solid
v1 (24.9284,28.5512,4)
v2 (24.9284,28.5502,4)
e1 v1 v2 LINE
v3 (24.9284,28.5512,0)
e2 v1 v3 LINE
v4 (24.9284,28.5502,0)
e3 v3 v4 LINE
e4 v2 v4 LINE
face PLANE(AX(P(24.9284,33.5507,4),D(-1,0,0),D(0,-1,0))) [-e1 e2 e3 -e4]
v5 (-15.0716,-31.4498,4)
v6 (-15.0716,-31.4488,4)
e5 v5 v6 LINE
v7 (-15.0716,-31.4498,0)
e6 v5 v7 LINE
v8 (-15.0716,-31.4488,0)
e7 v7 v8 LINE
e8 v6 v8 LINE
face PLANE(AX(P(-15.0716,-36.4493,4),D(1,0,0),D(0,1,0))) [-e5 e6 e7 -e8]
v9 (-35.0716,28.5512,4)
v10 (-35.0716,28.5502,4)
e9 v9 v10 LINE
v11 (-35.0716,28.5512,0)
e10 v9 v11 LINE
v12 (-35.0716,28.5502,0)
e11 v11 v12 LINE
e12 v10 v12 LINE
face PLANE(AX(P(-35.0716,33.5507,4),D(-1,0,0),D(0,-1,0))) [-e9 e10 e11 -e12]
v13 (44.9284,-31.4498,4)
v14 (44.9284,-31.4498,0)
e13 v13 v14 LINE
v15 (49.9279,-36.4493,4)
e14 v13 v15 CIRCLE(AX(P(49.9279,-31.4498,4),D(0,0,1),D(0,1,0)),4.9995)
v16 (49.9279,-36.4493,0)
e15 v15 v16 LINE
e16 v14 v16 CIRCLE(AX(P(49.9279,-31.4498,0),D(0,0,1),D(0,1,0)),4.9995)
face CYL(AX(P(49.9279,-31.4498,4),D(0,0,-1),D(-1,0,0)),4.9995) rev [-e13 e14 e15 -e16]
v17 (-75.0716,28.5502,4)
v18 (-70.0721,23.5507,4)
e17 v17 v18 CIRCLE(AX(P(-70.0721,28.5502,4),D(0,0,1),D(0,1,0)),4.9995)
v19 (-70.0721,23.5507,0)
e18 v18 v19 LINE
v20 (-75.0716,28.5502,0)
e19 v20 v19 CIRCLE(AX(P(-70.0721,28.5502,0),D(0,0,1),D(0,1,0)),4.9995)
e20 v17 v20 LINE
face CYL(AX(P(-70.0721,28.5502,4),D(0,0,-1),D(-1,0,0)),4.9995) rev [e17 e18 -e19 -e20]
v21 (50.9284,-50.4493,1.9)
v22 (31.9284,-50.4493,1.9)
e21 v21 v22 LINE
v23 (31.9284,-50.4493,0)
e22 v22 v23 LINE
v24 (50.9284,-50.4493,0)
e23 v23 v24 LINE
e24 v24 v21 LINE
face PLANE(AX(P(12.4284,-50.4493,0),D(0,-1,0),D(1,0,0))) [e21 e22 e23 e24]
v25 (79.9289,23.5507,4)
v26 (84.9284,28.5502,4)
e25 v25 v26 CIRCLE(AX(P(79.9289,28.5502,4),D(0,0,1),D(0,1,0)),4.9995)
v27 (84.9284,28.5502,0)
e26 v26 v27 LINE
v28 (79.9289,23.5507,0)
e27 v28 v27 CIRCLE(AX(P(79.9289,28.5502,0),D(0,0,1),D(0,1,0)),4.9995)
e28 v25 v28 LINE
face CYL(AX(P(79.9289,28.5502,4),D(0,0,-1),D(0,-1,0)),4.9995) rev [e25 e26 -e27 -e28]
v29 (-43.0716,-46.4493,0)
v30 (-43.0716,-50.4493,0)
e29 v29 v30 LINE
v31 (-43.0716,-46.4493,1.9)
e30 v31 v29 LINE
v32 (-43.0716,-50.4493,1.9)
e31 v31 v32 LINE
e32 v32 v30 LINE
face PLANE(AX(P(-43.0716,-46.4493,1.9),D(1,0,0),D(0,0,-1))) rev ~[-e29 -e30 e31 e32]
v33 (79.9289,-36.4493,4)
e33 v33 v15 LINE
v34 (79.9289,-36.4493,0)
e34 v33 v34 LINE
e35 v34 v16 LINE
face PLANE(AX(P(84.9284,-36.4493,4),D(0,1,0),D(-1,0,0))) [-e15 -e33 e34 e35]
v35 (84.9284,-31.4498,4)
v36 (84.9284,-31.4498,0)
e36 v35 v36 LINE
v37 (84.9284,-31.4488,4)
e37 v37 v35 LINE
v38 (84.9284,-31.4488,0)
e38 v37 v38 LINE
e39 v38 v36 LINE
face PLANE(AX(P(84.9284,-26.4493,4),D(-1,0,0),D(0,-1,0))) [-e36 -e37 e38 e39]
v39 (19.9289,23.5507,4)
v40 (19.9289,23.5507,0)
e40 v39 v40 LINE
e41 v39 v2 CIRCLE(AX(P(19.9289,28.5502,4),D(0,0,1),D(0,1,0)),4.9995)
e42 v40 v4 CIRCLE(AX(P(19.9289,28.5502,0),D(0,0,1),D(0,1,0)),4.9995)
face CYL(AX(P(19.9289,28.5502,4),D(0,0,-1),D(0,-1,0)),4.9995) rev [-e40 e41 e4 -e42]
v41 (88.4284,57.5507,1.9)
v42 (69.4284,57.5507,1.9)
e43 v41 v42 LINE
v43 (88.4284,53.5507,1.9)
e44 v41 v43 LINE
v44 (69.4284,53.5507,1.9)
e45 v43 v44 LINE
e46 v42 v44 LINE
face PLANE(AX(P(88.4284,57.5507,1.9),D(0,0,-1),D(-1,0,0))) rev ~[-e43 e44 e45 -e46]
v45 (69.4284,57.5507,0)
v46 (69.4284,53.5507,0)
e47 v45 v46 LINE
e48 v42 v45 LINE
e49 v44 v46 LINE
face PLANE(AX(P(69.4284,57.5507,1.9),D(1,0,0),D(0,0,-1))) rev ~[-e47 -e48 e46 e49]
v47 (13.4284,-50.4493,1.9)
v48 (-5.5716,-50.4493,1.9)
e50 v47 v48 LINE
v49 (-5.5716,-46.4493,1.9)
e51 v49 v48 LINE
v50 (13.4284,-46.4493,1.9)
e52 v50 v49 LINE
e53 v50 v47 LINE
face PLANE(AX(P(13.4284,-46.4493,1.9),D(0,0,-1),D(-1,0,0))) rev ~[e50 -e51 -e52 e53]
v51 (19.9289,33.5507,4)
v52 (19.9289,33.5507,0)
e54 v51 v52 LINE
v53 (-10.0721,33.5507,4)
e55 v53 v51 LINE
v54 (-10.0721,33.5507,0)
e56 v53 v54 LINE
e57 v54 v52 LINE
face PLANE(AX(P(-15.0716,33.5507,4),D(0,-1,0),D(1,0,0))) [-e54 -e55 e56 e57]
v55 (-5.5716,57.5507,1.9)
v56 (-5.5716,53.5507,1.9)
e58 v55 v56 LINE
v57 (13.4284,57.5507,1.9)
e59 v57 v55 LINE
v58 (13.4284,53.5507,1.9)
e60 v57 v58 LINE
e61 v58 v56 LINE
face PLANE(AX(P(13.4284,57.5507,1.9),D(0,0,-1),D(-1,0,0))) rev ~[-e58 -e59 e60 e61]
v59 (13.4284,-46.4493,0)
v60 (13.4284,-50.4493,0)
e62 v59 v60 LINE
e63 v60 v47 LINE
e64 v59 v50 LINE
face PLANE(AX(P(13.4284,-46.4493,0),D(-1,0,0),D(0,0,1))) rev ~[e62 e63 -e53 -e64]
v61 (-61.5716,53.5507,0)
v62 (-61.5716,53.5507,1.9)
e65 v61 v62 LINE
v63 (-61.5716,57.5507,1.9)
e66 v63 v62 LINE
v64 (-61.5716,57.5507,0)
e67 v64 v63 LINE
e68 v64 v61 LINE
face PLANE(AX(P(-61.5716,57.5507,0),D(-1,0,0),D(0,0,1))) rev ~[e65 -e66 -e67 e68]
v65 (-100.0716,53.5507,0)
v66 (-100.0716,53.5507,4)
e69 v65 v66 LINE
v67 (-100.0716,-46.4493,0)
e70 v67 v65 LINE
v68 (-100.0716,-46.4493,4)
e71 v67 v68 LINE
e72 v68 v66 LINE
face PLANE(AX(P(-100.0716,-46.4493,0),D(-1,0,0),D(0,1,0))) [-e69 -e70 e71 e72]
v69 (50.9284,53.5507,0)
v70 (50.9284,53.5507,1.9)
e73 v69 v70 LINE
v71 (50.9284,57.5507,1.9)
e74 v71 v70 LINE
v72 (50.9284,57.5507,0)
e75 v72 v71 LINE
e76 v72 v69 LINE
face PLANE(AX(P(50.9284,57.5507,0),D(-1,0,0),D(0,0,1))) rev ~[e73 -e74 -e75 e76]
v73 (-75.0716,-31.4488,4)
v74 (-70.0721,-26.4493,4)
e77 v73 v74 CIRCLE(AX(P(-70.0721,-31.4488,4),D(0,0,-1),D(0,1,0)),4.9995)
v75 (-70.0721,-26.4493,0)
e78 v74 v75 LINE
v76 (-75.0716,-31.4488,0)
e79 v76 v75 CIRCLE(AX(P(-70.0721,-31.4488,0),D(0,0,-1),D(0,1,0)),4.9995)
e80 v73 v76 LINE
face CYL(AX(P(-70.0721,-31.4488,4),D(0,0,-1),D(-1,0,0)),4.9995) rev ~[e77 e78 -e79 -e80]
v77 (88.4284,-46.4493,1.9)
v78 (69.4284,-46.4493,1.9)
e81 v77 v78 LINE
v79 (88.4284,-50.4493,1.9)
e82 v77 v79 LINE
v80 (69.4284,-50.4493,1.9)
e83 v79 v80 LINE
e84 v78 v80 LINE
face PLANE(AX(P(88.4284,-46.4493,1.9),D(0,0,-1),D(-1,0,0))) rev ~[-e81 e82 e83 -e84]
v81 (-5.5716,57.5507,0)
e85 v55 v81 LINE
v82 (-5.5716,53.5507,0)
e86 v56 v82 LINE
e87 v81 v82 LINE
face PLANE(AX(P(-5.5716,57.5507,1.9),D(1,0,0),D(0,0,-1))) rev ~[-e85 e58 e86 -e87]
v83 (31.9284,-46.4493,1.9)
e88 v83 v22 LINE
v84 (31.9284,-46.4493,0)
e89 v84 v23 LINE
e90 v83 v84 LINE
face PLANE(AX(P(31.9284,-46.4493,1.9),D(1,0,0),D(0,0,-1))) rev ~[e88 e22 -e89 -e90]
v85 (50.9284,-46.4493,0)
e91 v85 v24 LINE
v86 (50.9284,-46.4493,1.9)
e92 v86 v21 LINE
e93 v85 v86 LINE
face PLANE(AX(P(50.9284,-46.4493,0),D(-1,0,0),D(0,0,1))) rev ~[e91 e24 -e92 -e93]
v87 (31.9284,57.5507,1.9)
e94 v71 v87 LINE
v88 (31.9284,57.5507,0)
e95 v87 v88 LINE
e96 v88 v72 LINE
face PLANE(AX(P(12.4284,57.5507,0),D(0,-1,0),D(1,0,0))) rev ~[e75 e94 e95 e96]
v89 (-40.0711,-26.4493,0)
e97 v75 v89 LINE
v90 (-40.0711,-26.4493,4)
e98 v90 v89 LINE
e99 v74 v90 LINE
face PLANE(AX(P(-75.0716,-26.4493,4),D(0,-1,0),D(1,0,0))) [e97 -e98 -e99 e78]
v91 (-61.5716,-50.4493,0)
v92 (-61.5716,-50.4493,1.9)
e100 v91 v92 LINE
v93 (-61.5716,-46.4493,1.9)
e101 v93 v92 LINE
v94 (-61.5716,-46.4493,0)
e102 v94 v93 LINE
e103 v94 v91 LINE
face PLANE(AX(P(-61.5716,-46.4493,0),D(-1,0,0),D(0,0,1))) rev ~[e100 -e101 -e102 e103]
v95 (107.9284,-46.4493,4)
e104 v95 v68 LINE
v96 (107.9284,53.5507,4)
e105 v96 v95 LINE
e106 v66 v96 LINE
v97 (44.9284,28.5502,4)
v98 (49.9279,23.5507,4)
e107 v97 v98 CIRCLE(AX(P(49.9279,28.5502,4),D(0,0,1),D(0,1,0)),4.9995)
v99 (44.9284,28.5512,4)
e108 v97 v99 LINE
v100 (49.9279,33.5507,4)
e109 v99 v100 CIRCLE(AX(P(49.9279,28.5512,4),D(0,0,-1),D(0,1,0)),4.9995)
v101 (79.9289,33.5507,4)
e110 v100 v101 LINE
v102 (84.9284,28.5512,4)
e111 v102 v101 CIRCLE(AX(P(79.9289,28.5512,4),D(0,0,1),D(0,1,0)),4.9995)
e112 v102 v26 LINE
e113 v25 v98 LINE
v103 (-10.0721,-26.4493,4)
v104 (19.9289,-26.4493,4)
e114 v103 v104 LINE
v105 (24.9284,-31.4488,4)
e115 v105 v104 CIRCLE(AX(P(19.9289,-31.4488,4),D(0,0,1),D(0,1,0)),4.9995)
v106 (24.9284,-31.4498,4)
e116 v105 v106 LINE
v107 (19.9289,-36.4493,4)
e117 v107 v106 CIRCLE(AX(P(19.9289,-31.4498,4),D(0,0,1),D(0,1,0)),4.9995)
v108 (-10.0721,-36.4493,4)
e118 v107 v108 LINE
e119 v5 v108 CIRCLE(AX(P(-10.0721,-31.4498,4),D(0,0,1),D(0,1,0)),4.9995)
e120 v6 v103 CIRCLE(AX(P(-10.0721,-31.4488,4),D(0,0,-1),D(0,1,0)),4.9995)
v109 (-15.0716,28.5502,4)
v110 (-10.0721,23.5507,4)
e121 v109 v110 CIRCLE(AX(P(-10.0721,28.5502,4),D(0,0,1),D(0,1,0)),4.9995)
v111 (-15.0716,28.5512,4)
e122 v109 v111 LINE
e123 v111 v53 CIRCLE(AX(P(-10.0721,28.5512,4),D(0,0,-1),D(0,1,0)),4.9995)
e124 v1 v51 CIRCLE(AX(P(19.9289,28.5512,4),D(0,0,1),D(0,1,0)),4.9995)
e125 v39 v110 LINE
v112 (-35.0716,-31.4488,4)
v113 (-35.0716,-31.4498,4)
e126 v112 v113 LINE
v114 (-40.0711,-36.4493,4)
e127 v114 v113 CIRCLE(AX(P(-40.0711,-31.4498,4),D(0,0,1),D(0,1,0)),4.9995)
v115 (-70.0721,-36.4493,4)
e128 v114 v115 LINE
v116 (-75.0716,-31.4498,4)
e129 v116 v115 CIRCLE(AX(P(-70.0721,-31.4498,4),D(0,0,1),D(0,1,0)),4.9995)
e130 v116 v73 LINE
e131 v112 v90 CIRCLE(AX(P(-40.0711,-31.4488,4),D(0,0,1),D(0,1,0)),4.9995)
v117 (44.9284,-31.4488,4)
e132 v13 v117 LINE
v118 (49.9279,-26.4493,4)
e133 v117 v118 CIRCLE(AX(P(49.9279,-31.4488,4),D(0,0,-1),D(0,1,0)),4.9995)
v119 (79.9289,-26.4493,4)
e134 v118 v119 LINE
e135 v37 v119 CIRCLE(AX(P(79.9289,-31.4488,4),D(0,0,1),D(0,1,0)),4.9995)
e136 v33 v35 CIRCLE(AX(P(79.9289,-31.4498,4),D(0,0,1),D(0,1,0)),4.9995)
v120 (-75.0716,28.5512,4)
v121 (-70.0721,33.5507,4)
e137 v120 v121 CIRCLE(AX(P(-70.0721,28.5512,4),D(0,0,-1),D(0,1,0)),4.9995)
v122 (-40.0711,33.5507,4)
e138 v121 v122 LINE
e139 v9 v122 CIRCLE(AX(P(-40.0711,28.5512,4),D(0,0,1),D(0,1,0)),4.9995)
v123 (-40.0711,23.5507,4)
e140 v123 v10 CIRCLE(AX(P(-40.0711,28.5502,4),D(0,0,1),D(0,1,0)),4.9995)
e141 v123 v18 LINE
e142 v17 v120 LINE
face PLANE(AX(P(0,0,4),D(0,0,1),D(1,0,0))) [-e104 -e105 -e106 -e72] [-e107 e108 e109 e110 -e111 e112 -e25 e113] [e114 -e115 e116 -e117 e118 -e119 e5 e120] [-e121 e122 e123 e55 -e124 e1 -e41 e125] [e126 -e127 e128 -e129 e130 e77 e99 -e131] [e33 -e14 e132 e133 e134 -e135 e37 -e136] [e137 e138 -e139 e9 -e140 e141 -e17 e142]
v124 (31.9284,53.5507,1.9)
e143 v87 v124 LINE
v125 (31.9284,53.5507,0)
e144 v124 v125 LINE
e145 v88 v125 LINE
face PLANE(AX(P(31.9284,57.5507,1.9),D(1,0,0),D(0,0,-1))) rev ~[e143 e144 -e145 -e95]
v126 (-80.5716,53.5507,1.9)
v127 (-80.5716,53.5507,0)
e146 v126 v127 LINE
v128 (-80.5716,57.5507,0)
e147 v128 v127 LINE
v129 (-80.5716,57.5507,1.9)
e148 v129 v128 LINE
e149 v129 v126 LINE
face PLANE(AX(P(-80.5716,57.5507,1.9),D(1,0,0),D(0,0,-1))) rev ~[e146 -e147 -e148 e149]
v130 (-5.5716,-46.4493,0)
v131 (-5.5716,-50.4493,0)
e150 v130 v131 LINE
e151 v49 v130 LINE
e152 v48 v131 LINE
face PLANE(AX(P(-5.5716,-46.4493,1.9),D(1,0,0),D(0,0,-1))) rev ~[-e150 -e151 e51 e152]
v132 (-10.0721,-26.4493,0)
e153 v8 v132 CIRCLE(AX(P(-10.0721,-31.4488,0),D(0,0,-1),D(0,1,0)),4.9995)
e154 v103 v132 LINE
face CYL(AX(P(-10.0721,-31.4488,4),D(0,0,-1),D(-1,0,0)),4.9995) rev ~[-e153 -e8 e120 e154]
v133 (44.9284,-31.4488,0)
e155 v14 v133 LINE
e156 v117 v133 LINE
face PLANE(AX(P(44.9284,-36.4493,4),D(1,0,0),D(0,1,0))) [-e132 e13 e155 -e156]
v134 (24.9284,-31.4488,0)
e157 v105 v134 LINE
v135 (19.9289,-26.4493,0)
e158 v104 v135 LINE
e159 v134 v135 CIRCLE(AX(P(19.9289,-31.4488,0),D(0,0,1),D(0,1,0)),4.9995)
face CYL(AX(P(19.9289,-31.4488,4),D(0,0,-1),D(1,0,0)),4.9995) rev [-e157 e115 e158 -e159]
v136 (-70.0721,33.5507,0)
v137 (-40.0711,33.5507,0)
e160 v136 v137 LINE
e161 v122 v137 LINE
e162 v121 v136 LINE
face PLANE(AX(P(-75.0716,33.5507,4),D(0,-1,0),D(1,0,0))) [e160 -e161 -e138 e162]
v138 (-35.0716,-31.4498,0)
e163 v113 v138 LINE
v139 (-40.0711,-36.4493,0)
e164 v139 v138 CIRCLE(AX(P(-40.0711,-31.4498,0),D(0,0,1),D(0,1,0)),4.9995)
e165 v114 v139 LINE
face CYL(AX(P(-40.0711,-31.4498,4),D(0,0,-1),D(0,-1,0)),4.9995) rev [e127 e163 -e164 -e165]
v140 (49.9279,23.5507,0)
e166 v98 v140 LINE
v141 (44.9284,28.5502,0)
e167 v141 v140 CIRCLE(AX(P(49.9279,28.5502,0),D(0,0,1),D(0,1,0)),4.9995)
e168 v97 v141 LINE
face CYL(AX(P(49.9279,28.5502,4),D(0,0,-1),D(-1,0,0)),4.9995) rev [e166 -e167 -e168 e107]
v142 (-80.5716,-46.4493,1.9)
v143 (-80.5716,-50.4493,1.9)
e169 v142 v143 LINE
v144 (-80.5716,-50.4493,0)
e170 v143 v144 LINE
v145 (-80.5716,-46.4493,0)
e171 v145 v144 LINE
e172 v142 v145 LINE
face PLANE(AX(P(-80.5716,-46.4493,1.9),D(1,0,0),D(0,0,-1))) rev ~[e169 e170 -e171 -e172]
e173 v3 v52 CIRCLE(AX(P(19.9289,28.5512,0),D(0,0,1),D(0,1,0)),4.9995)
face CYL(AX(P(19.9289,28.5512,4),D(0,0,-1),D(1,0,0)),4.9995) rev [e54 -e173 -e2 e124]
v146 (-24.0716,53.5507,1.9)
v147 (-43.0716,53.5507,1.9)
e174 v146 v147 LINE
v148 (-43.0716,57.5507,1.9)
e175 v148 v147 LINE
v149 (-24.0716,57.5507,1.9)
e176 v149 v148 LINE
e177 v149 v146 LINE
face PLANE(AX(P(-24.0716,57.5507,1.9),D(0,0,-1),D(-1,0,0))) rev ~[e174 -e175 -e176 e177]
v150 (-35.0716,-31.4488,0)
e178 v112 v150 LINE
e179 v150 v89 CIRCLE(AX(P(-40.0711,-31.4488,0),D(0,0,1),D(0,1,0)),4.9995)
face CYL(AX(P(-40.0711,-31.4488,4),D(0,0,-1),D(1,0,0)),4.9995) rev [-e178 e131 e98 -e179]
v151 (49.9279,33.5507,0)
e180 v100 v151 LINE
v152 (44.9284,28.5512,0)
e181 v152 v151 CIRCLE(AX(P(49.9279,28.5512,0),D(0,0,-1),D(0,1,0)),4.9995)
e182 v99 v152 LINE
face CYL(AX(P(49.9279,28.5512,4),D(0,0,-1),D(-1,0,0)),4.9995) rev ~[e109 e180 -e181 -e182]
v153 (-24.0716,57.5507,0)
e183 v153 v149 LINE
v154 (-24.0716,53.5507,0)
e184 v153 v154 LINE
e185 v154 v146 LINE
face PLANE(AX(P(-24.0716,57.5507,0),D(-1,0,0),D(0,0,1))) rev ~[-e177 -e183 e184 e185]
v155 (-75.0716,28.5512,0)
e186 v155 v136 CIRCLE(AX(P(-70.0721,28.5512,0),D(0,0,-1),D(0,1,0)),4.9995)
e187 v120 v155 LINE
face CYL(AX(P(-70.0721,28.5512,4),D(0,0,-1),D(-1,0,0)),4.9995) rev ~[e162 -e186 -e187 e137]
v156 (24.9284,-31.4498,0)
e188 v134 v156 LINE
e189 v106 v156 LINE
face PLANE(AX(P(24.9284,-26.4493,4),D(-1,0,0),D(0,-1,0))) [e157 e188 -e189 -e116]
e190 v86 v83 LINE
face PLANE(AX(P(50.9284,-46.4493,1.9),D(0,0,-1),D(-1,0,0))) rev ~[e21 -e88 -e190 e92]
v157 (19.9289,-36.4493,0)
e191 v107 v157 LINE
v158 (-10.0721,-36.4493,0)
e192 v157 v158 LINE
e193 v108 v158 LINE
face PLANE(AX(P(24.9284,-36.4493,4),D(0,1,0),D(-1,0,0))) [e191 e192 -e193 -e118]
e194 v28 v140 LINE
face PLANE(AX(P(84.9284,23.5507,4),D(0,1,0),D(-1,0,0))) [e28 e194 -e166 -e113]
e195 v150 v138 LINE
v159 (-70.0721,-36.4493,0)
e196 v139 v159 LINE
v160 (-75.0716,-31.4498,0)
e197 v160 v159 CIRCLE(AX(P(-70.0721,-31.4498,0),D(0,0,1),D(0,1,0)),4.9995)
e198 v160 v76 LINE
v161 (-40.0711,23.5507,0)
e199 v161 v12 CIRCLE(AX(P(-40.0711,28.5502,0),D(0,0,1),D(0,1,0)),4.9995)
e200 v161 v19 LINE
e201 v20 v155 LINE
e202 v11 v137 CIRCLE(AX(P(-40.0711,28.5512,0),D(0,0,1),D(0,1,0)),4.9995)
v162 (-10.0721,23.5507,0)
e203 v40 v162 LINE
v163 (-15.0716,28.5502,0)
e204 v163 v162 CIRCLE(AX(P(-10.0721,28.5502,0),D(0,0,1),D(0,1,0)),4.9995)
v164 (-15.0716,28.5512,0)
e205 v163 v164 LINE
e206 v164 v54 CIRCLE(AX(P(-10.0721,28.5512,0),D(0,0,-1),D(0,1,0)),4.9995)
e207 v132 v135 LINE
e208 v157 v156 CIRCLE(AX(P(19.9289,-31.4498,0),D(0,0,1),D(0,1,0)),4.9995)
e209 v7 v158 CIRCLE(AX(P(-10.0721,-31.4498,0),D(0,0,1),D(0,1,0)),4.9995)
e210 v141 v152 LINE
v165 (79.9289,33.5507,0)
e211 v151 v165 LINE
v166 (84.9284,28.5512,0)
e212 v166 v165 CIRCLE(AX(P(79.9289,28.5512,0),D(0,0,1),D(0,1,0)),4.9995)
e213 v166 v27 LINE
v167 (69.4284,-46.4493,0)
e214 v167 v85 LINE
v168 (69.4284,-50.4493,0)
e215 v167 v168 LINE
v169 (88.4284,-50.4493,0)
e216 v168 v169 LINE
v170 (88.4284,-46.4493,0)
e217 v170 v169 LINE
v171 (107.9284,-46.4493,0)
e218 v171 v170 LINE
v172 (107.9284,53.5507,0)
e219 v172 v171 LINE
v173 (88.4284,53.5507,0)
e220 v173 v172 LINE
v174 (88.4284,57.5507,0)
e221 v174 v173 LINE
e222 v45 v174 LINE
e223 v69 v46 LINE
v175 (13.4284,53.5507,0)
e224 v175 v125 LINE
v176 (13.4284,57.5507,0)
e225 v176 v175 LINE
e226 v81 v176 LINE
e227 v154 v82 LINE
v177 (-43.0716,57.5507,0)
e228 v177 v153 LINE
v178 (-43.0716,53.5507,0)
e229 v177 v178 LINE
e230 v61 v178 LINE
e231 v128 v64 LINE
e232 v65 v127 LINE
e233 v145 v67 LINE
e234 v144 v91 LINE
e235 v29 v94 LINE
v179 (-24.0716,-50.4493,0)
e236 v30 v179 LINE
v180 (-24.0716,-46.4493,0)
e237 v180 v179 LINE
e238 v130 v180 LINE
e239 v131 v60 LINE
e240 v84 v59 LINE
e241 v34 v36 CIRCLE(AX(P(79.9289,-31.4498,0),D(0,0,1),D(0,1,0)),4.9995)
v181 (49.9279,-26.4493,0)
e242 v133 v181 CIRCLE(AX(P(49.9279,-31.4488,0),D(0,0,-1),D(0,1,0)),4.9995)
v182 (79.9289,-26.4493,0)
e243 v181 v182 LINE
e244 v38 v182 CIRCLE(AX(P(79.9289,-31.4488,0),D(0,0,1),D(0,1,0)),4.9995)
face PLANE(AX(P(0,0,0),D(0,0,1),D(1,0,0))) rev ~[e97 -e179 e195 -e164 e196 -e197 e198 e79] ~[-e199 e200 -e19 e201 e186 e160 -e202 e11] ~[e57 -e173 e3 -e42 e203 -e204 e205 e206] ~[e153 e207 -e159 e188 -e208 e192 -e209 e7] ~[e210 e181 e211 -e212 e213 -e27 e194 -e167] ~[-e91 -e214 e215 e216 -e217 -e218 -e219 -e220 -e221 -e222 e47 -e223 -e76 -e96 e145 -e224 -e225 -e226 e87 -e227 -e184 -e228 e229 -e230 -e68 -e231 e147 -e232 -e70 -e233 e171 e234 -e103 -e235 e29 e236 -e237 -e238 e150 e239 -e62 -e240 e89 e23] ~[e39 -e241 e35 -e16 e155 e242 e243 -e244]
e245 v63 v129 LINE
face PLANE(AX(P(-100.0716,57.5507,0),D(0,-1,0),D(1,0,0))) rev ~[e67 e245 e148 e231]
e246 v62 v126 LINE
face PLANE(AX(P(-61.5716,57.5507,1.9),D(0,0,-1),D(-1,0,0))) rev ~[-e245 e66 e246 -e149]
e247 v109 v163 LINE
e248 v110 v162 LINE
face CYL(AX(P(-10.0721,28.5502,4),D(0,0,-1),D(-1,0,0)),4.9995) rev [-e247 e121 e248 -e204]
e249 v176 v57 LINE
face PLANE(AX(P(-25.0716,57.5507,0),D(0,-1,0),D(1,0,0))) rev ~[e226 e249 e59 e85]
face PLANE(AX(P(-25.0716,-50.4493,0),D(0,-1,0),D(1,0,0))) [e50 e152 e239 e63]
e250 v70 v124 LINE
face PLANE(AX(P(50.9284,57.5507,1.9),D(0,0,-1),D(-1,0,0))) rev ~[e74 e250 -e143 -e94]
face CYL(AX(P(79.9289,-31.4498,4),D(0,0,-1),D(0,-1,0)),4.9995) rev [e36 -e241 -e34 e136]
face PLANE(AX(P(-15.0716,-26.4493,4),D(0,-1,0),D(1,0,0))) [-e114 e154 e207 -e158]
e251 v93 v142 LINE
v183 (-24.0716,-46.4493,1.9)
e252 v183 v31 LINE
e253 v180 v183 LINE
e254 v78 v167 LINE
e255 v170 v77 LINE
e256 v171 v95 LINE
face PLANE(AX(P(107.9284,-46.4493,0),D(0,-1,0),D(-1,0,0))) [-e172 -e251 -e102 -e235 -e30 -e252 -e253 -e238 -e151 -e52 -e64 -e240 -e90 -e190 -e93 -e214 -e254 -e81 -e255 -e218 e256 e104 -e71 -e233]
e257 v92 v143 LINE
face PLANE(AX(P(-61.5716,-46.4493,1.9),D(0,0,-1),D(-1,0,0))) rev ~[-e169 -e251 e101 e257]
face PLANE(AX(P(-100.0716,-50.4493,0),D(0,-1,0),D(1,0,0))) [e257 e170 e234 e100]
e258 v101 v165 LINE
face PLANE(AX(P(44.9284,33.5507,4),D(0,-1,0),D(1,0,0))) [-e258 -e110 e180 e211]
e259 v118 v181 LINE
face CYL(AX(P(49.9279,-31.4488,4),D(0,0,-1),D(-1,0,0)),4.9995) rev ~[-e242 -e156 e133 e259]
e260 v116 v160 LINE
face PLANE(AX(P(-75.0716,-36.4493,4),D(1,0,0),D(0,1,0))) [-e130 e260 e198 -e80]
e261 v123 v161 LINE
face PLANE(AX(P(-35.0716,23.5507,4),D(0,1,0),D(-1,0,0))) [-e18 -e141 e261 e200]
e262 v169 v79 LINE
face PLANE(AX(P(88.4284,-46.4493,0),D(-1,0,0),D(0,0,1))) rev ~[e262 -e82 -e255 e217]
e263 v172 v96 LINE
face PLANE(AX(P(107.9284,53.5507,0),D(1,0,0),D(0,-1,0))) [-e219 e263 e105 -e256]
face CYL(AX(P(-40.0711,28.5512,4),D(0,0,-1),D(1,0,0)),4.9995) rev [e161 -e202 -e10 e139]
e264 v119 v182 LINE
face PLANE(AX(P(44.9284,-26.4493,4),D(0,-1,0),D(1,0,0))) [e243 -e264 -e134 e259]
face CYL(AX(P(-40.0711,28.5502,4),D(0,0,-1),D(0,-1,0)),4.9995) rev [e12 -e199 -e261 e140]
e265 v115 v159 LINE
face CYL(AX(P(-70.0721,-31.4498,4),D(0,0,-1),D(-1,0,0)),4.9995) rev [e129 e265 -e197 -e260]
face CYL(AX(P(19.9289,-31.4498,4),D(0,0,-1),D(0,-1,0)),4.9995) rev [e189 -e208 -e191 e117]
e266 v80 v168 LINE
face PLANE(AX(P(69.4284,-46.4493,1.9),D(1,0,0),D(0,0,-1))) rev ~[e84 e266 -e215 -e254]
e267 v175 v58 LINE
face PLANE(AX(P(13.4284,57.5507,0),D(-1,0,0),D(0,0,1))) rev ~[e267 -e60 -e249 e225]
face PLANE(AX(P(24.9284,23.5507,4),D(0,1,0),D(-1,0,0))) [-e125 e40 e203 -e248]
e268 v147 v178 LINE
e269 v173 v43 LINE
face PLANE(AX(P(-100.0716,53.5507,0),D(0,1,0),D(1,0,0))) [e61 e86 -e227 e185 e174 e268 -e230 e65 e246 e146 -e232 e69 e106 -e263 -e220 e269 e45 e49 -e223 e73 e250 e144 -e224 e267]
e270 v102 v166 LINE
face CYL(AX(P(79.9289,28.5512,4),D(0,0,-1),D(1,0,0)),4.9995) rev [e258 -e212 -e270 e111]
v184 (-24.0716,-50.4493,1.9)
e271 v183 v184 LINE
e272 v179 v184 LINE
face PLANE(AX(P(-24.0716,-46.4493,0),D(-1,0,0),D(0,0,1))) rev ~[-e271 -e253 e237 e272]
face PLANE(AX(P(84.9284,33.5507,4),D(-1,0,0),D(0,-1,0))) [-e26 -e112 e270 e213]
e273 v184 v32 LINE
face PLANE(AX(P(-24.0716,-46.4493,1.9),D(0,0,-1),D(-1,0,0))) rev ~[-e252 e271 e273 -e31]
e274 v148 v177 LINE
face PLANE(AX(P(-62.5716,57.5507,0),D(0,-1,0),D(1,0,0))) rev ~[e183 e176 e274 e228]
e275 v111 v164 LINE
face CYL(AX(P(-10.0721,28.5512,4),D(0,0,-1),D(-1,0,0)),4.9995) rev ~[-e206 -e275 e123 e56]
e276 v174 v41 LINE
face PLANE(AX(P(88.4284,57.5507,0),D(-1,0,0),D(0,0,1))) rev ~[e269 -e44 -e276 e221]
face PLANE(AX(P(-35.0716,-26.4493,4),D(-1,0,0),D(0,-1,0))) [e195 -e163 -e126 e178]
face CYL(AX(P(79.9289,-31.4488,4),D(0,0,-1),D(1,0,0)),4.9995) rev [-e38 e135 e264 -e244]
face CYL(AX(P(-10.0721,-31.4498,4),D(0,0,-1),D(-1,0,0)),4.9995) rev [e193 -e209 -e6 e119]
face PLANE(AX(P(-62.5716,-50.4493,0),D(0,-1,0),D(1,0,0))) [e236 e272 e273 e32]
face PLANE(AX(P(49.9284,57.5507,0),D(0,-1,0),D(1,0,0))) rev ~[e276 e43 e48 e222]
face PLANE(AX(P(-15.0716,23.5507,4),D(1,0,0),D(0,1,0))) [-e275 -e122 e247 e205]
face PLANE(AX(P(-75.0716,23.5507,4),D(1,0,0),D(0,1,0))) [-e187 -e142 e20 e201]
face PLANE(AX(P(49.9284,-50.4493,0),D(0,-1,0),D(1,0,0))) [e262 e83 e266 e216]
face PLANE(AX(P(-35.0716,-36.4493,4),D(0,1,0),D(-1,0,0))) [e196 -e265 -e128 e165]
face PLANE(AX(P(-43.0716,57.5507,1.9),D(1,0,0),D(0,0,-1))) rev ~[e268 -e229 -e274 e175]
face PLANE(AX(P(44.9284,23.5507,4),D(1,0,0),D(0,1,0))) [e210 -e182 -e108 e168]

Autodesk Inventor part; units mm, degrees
ref_plane "YZ Plane" through (0, 0, 0) normal (1, 0, 0) x (0, 1, 0)
ref_plane "XZ Plane" through (0, 0, 0) normal (0, 1, 0) x (-1, 0, 0)
ref_plane "XY Plane" through (0, 0, 0) normal (0, 0, 1) x (1, 0, 0)
sketch "Sketch1" plane through (0, 0, 0) normal (0, 0, 1) x (1, 0, 0)
  line L0 (-100.0716, 53.5507) -> (107.9284, 53.5507)
  line L1 (107.9284, 53.5507) -> (107.9284, -46.4493)
  line L2 (107.9284, -46.4493) -> (-100.0716, -46.4493)
  line L3 (-100.0716, -46.4493) -> (-100.0716, 53.5507)
  point P0 (0, 0)
  dimension "d0" = 208
  dimension "d1" = 100
extrude "Extrusion1" add sketch "Sketch1" along normal blind 4
sketch "Sketch2" plane through (-100.0716, -46.4493, 0) normal (0, -1, 0) x (1, 0, 0)
  line L0 (0, 0) -> (208, 0) projected
  line L1 (19.5, 0) -> (38.5, 0)
  line L2 (38.5, 0) -> (38.5, 1.9)
  line L3 (38.5, 1.9) -> (19.5, 1.9)
  line L4 (19.5, 1.9) -> (19.5, 0)
  line L5 (0, 0) -> (0, 4) projected
  point P0 (100.0716, 0)
  point P1 (19.5, 0.95)
  dimension "d4" = 19
  dimension "d5" = 1.9
  dimension "d6" = 19.5
extrude "Extrusion2" add sketch "Sketch2" along normal blind 4
pattern_linear "Rectangular Pattern1" count 5 spacing 37.5 along (1, 0, 0) count 2 spacing 104 along (0, 1, 0) of "Extrusion2"
sketch "Sketch3" plane through (0, 0, 4) normal (0, 0, 1) x (1, 0, 0)
  line L0 (89.7284, -20.8493) -> (97.9284, -20.8493)
  line L1 (97.9284, -20.8493) -> (97.9284, -36.4493)
  line L2 (97.9284, -36.4493) -> (89.7284, -36.4493)
  line L3 (89.7284, -36.4493) -> (89.7284, -20.8493)
  line L4 (107.9284, 53.5507) -> (-100.0716, 53.5507) projected
  line L5 (-100.0716, 53.5507) -> (-100.0716, -46.4493) projected
  line L6 (107.9284, -46.4493) -> (107.9284, 53.5507) projected
  line L7 (-100.0716, -46.4493) -> (107.9284, -46.4493) projected
  point P0 (0, 0)
  dimension "d15" = 8.2
  dimension "d16" = 15.6
  dimension "d21" = 10
  dimension "d22" = 10
extrude "Extrusion3" [suppressed]
sketch "Sketch4" plane through (0, 0, 4) normal (0, 0, 1) x (1, 0, 0)
  line L0 (-75.0716, 33.5507) -> (-35.0716, 33.5507)
  line L1 (-35.0716, 33.5507) -> (-35.0716, 23.5507)
  line L2 (-35.0716, 23.5507) -> (-75.0716, 23.5507)
  line L3 (-75.0716, 23.5507) -> (-75.0716, 33.5507)
  line L4 (-15.0716, 33.5507) -> (24.9284, 33.5507)
  line L5 (24.9284, 33.5507) -> (24.9284, 23.5507)
  line L6 (24.9284, 23.5507) -> (-15.0716, 23.5507)
  line L7 (-15.0716, 23.5507) -> (-15.0716, 33.5507)
  line L8 (44.9284, 33.5507) -> (84.9284, 33.5507)
  line L9 (84.9284, 33.5507) -> (84.9284, 23.5507)
  line L10 (84.9284, 23.5507) -> (44.9284, 23.5507)
  line L11 (44.9284, 23.5507) -> (44.9284, 33.5507)
  line L12 (-100.0716, 53.5507) -> (-100.0716, -46.4493) projected
  line L13 (107.9284, 53.5507) -> (-100.0716, 53.5507) projected
  point P0 (0, 0)
  point P1 (-75.0716, 28.5507)
  point P2 (-15.0716, 28.5507)
  point P3 (-35.0716, 28.5507)
  point P4 (44.9284, 28.5507)
  point P5 (24.9284, 28.5507)
  dimension "d23" = 40
  dimension "d24" = 10
  dimension "d25" = 40
  dimension "d26" = 10
  dimension "d27" = 40
  dimension "d28" = 10
  dimension "d29" = 25
  dimension "d30" = 20
  dimension "d31" = 20
  dimension "d35" = 20
extrude "Extrusion4" cut sketch "Sketch4" against normal blind 10
fillet "Fillet1" radius 5 12 edges at (-75.0716, 33.5507, 2) (-75.0716, 23.5507, 2) (-35.0716, 23.5507, 2) (-35.0716, 33.5507, 2) (-15.0716, 33.5507, 2) (-15.0716, 23.5507, 2) (24.9284, 33.5507, 2) (24.9284, 23.5507, 2) (44.9284, 33.5507, 2) (44.9284, 23.5507, 2) (84.9284, 33.5507, 2) (84.9284, 23.5507, 2)
pattern_linear "Rectangular Pattern2" count 2 spacing 60 along (0, -1, 0) of "Extrusion4", "Fillet1"
properties part number "Enclosure_3"
